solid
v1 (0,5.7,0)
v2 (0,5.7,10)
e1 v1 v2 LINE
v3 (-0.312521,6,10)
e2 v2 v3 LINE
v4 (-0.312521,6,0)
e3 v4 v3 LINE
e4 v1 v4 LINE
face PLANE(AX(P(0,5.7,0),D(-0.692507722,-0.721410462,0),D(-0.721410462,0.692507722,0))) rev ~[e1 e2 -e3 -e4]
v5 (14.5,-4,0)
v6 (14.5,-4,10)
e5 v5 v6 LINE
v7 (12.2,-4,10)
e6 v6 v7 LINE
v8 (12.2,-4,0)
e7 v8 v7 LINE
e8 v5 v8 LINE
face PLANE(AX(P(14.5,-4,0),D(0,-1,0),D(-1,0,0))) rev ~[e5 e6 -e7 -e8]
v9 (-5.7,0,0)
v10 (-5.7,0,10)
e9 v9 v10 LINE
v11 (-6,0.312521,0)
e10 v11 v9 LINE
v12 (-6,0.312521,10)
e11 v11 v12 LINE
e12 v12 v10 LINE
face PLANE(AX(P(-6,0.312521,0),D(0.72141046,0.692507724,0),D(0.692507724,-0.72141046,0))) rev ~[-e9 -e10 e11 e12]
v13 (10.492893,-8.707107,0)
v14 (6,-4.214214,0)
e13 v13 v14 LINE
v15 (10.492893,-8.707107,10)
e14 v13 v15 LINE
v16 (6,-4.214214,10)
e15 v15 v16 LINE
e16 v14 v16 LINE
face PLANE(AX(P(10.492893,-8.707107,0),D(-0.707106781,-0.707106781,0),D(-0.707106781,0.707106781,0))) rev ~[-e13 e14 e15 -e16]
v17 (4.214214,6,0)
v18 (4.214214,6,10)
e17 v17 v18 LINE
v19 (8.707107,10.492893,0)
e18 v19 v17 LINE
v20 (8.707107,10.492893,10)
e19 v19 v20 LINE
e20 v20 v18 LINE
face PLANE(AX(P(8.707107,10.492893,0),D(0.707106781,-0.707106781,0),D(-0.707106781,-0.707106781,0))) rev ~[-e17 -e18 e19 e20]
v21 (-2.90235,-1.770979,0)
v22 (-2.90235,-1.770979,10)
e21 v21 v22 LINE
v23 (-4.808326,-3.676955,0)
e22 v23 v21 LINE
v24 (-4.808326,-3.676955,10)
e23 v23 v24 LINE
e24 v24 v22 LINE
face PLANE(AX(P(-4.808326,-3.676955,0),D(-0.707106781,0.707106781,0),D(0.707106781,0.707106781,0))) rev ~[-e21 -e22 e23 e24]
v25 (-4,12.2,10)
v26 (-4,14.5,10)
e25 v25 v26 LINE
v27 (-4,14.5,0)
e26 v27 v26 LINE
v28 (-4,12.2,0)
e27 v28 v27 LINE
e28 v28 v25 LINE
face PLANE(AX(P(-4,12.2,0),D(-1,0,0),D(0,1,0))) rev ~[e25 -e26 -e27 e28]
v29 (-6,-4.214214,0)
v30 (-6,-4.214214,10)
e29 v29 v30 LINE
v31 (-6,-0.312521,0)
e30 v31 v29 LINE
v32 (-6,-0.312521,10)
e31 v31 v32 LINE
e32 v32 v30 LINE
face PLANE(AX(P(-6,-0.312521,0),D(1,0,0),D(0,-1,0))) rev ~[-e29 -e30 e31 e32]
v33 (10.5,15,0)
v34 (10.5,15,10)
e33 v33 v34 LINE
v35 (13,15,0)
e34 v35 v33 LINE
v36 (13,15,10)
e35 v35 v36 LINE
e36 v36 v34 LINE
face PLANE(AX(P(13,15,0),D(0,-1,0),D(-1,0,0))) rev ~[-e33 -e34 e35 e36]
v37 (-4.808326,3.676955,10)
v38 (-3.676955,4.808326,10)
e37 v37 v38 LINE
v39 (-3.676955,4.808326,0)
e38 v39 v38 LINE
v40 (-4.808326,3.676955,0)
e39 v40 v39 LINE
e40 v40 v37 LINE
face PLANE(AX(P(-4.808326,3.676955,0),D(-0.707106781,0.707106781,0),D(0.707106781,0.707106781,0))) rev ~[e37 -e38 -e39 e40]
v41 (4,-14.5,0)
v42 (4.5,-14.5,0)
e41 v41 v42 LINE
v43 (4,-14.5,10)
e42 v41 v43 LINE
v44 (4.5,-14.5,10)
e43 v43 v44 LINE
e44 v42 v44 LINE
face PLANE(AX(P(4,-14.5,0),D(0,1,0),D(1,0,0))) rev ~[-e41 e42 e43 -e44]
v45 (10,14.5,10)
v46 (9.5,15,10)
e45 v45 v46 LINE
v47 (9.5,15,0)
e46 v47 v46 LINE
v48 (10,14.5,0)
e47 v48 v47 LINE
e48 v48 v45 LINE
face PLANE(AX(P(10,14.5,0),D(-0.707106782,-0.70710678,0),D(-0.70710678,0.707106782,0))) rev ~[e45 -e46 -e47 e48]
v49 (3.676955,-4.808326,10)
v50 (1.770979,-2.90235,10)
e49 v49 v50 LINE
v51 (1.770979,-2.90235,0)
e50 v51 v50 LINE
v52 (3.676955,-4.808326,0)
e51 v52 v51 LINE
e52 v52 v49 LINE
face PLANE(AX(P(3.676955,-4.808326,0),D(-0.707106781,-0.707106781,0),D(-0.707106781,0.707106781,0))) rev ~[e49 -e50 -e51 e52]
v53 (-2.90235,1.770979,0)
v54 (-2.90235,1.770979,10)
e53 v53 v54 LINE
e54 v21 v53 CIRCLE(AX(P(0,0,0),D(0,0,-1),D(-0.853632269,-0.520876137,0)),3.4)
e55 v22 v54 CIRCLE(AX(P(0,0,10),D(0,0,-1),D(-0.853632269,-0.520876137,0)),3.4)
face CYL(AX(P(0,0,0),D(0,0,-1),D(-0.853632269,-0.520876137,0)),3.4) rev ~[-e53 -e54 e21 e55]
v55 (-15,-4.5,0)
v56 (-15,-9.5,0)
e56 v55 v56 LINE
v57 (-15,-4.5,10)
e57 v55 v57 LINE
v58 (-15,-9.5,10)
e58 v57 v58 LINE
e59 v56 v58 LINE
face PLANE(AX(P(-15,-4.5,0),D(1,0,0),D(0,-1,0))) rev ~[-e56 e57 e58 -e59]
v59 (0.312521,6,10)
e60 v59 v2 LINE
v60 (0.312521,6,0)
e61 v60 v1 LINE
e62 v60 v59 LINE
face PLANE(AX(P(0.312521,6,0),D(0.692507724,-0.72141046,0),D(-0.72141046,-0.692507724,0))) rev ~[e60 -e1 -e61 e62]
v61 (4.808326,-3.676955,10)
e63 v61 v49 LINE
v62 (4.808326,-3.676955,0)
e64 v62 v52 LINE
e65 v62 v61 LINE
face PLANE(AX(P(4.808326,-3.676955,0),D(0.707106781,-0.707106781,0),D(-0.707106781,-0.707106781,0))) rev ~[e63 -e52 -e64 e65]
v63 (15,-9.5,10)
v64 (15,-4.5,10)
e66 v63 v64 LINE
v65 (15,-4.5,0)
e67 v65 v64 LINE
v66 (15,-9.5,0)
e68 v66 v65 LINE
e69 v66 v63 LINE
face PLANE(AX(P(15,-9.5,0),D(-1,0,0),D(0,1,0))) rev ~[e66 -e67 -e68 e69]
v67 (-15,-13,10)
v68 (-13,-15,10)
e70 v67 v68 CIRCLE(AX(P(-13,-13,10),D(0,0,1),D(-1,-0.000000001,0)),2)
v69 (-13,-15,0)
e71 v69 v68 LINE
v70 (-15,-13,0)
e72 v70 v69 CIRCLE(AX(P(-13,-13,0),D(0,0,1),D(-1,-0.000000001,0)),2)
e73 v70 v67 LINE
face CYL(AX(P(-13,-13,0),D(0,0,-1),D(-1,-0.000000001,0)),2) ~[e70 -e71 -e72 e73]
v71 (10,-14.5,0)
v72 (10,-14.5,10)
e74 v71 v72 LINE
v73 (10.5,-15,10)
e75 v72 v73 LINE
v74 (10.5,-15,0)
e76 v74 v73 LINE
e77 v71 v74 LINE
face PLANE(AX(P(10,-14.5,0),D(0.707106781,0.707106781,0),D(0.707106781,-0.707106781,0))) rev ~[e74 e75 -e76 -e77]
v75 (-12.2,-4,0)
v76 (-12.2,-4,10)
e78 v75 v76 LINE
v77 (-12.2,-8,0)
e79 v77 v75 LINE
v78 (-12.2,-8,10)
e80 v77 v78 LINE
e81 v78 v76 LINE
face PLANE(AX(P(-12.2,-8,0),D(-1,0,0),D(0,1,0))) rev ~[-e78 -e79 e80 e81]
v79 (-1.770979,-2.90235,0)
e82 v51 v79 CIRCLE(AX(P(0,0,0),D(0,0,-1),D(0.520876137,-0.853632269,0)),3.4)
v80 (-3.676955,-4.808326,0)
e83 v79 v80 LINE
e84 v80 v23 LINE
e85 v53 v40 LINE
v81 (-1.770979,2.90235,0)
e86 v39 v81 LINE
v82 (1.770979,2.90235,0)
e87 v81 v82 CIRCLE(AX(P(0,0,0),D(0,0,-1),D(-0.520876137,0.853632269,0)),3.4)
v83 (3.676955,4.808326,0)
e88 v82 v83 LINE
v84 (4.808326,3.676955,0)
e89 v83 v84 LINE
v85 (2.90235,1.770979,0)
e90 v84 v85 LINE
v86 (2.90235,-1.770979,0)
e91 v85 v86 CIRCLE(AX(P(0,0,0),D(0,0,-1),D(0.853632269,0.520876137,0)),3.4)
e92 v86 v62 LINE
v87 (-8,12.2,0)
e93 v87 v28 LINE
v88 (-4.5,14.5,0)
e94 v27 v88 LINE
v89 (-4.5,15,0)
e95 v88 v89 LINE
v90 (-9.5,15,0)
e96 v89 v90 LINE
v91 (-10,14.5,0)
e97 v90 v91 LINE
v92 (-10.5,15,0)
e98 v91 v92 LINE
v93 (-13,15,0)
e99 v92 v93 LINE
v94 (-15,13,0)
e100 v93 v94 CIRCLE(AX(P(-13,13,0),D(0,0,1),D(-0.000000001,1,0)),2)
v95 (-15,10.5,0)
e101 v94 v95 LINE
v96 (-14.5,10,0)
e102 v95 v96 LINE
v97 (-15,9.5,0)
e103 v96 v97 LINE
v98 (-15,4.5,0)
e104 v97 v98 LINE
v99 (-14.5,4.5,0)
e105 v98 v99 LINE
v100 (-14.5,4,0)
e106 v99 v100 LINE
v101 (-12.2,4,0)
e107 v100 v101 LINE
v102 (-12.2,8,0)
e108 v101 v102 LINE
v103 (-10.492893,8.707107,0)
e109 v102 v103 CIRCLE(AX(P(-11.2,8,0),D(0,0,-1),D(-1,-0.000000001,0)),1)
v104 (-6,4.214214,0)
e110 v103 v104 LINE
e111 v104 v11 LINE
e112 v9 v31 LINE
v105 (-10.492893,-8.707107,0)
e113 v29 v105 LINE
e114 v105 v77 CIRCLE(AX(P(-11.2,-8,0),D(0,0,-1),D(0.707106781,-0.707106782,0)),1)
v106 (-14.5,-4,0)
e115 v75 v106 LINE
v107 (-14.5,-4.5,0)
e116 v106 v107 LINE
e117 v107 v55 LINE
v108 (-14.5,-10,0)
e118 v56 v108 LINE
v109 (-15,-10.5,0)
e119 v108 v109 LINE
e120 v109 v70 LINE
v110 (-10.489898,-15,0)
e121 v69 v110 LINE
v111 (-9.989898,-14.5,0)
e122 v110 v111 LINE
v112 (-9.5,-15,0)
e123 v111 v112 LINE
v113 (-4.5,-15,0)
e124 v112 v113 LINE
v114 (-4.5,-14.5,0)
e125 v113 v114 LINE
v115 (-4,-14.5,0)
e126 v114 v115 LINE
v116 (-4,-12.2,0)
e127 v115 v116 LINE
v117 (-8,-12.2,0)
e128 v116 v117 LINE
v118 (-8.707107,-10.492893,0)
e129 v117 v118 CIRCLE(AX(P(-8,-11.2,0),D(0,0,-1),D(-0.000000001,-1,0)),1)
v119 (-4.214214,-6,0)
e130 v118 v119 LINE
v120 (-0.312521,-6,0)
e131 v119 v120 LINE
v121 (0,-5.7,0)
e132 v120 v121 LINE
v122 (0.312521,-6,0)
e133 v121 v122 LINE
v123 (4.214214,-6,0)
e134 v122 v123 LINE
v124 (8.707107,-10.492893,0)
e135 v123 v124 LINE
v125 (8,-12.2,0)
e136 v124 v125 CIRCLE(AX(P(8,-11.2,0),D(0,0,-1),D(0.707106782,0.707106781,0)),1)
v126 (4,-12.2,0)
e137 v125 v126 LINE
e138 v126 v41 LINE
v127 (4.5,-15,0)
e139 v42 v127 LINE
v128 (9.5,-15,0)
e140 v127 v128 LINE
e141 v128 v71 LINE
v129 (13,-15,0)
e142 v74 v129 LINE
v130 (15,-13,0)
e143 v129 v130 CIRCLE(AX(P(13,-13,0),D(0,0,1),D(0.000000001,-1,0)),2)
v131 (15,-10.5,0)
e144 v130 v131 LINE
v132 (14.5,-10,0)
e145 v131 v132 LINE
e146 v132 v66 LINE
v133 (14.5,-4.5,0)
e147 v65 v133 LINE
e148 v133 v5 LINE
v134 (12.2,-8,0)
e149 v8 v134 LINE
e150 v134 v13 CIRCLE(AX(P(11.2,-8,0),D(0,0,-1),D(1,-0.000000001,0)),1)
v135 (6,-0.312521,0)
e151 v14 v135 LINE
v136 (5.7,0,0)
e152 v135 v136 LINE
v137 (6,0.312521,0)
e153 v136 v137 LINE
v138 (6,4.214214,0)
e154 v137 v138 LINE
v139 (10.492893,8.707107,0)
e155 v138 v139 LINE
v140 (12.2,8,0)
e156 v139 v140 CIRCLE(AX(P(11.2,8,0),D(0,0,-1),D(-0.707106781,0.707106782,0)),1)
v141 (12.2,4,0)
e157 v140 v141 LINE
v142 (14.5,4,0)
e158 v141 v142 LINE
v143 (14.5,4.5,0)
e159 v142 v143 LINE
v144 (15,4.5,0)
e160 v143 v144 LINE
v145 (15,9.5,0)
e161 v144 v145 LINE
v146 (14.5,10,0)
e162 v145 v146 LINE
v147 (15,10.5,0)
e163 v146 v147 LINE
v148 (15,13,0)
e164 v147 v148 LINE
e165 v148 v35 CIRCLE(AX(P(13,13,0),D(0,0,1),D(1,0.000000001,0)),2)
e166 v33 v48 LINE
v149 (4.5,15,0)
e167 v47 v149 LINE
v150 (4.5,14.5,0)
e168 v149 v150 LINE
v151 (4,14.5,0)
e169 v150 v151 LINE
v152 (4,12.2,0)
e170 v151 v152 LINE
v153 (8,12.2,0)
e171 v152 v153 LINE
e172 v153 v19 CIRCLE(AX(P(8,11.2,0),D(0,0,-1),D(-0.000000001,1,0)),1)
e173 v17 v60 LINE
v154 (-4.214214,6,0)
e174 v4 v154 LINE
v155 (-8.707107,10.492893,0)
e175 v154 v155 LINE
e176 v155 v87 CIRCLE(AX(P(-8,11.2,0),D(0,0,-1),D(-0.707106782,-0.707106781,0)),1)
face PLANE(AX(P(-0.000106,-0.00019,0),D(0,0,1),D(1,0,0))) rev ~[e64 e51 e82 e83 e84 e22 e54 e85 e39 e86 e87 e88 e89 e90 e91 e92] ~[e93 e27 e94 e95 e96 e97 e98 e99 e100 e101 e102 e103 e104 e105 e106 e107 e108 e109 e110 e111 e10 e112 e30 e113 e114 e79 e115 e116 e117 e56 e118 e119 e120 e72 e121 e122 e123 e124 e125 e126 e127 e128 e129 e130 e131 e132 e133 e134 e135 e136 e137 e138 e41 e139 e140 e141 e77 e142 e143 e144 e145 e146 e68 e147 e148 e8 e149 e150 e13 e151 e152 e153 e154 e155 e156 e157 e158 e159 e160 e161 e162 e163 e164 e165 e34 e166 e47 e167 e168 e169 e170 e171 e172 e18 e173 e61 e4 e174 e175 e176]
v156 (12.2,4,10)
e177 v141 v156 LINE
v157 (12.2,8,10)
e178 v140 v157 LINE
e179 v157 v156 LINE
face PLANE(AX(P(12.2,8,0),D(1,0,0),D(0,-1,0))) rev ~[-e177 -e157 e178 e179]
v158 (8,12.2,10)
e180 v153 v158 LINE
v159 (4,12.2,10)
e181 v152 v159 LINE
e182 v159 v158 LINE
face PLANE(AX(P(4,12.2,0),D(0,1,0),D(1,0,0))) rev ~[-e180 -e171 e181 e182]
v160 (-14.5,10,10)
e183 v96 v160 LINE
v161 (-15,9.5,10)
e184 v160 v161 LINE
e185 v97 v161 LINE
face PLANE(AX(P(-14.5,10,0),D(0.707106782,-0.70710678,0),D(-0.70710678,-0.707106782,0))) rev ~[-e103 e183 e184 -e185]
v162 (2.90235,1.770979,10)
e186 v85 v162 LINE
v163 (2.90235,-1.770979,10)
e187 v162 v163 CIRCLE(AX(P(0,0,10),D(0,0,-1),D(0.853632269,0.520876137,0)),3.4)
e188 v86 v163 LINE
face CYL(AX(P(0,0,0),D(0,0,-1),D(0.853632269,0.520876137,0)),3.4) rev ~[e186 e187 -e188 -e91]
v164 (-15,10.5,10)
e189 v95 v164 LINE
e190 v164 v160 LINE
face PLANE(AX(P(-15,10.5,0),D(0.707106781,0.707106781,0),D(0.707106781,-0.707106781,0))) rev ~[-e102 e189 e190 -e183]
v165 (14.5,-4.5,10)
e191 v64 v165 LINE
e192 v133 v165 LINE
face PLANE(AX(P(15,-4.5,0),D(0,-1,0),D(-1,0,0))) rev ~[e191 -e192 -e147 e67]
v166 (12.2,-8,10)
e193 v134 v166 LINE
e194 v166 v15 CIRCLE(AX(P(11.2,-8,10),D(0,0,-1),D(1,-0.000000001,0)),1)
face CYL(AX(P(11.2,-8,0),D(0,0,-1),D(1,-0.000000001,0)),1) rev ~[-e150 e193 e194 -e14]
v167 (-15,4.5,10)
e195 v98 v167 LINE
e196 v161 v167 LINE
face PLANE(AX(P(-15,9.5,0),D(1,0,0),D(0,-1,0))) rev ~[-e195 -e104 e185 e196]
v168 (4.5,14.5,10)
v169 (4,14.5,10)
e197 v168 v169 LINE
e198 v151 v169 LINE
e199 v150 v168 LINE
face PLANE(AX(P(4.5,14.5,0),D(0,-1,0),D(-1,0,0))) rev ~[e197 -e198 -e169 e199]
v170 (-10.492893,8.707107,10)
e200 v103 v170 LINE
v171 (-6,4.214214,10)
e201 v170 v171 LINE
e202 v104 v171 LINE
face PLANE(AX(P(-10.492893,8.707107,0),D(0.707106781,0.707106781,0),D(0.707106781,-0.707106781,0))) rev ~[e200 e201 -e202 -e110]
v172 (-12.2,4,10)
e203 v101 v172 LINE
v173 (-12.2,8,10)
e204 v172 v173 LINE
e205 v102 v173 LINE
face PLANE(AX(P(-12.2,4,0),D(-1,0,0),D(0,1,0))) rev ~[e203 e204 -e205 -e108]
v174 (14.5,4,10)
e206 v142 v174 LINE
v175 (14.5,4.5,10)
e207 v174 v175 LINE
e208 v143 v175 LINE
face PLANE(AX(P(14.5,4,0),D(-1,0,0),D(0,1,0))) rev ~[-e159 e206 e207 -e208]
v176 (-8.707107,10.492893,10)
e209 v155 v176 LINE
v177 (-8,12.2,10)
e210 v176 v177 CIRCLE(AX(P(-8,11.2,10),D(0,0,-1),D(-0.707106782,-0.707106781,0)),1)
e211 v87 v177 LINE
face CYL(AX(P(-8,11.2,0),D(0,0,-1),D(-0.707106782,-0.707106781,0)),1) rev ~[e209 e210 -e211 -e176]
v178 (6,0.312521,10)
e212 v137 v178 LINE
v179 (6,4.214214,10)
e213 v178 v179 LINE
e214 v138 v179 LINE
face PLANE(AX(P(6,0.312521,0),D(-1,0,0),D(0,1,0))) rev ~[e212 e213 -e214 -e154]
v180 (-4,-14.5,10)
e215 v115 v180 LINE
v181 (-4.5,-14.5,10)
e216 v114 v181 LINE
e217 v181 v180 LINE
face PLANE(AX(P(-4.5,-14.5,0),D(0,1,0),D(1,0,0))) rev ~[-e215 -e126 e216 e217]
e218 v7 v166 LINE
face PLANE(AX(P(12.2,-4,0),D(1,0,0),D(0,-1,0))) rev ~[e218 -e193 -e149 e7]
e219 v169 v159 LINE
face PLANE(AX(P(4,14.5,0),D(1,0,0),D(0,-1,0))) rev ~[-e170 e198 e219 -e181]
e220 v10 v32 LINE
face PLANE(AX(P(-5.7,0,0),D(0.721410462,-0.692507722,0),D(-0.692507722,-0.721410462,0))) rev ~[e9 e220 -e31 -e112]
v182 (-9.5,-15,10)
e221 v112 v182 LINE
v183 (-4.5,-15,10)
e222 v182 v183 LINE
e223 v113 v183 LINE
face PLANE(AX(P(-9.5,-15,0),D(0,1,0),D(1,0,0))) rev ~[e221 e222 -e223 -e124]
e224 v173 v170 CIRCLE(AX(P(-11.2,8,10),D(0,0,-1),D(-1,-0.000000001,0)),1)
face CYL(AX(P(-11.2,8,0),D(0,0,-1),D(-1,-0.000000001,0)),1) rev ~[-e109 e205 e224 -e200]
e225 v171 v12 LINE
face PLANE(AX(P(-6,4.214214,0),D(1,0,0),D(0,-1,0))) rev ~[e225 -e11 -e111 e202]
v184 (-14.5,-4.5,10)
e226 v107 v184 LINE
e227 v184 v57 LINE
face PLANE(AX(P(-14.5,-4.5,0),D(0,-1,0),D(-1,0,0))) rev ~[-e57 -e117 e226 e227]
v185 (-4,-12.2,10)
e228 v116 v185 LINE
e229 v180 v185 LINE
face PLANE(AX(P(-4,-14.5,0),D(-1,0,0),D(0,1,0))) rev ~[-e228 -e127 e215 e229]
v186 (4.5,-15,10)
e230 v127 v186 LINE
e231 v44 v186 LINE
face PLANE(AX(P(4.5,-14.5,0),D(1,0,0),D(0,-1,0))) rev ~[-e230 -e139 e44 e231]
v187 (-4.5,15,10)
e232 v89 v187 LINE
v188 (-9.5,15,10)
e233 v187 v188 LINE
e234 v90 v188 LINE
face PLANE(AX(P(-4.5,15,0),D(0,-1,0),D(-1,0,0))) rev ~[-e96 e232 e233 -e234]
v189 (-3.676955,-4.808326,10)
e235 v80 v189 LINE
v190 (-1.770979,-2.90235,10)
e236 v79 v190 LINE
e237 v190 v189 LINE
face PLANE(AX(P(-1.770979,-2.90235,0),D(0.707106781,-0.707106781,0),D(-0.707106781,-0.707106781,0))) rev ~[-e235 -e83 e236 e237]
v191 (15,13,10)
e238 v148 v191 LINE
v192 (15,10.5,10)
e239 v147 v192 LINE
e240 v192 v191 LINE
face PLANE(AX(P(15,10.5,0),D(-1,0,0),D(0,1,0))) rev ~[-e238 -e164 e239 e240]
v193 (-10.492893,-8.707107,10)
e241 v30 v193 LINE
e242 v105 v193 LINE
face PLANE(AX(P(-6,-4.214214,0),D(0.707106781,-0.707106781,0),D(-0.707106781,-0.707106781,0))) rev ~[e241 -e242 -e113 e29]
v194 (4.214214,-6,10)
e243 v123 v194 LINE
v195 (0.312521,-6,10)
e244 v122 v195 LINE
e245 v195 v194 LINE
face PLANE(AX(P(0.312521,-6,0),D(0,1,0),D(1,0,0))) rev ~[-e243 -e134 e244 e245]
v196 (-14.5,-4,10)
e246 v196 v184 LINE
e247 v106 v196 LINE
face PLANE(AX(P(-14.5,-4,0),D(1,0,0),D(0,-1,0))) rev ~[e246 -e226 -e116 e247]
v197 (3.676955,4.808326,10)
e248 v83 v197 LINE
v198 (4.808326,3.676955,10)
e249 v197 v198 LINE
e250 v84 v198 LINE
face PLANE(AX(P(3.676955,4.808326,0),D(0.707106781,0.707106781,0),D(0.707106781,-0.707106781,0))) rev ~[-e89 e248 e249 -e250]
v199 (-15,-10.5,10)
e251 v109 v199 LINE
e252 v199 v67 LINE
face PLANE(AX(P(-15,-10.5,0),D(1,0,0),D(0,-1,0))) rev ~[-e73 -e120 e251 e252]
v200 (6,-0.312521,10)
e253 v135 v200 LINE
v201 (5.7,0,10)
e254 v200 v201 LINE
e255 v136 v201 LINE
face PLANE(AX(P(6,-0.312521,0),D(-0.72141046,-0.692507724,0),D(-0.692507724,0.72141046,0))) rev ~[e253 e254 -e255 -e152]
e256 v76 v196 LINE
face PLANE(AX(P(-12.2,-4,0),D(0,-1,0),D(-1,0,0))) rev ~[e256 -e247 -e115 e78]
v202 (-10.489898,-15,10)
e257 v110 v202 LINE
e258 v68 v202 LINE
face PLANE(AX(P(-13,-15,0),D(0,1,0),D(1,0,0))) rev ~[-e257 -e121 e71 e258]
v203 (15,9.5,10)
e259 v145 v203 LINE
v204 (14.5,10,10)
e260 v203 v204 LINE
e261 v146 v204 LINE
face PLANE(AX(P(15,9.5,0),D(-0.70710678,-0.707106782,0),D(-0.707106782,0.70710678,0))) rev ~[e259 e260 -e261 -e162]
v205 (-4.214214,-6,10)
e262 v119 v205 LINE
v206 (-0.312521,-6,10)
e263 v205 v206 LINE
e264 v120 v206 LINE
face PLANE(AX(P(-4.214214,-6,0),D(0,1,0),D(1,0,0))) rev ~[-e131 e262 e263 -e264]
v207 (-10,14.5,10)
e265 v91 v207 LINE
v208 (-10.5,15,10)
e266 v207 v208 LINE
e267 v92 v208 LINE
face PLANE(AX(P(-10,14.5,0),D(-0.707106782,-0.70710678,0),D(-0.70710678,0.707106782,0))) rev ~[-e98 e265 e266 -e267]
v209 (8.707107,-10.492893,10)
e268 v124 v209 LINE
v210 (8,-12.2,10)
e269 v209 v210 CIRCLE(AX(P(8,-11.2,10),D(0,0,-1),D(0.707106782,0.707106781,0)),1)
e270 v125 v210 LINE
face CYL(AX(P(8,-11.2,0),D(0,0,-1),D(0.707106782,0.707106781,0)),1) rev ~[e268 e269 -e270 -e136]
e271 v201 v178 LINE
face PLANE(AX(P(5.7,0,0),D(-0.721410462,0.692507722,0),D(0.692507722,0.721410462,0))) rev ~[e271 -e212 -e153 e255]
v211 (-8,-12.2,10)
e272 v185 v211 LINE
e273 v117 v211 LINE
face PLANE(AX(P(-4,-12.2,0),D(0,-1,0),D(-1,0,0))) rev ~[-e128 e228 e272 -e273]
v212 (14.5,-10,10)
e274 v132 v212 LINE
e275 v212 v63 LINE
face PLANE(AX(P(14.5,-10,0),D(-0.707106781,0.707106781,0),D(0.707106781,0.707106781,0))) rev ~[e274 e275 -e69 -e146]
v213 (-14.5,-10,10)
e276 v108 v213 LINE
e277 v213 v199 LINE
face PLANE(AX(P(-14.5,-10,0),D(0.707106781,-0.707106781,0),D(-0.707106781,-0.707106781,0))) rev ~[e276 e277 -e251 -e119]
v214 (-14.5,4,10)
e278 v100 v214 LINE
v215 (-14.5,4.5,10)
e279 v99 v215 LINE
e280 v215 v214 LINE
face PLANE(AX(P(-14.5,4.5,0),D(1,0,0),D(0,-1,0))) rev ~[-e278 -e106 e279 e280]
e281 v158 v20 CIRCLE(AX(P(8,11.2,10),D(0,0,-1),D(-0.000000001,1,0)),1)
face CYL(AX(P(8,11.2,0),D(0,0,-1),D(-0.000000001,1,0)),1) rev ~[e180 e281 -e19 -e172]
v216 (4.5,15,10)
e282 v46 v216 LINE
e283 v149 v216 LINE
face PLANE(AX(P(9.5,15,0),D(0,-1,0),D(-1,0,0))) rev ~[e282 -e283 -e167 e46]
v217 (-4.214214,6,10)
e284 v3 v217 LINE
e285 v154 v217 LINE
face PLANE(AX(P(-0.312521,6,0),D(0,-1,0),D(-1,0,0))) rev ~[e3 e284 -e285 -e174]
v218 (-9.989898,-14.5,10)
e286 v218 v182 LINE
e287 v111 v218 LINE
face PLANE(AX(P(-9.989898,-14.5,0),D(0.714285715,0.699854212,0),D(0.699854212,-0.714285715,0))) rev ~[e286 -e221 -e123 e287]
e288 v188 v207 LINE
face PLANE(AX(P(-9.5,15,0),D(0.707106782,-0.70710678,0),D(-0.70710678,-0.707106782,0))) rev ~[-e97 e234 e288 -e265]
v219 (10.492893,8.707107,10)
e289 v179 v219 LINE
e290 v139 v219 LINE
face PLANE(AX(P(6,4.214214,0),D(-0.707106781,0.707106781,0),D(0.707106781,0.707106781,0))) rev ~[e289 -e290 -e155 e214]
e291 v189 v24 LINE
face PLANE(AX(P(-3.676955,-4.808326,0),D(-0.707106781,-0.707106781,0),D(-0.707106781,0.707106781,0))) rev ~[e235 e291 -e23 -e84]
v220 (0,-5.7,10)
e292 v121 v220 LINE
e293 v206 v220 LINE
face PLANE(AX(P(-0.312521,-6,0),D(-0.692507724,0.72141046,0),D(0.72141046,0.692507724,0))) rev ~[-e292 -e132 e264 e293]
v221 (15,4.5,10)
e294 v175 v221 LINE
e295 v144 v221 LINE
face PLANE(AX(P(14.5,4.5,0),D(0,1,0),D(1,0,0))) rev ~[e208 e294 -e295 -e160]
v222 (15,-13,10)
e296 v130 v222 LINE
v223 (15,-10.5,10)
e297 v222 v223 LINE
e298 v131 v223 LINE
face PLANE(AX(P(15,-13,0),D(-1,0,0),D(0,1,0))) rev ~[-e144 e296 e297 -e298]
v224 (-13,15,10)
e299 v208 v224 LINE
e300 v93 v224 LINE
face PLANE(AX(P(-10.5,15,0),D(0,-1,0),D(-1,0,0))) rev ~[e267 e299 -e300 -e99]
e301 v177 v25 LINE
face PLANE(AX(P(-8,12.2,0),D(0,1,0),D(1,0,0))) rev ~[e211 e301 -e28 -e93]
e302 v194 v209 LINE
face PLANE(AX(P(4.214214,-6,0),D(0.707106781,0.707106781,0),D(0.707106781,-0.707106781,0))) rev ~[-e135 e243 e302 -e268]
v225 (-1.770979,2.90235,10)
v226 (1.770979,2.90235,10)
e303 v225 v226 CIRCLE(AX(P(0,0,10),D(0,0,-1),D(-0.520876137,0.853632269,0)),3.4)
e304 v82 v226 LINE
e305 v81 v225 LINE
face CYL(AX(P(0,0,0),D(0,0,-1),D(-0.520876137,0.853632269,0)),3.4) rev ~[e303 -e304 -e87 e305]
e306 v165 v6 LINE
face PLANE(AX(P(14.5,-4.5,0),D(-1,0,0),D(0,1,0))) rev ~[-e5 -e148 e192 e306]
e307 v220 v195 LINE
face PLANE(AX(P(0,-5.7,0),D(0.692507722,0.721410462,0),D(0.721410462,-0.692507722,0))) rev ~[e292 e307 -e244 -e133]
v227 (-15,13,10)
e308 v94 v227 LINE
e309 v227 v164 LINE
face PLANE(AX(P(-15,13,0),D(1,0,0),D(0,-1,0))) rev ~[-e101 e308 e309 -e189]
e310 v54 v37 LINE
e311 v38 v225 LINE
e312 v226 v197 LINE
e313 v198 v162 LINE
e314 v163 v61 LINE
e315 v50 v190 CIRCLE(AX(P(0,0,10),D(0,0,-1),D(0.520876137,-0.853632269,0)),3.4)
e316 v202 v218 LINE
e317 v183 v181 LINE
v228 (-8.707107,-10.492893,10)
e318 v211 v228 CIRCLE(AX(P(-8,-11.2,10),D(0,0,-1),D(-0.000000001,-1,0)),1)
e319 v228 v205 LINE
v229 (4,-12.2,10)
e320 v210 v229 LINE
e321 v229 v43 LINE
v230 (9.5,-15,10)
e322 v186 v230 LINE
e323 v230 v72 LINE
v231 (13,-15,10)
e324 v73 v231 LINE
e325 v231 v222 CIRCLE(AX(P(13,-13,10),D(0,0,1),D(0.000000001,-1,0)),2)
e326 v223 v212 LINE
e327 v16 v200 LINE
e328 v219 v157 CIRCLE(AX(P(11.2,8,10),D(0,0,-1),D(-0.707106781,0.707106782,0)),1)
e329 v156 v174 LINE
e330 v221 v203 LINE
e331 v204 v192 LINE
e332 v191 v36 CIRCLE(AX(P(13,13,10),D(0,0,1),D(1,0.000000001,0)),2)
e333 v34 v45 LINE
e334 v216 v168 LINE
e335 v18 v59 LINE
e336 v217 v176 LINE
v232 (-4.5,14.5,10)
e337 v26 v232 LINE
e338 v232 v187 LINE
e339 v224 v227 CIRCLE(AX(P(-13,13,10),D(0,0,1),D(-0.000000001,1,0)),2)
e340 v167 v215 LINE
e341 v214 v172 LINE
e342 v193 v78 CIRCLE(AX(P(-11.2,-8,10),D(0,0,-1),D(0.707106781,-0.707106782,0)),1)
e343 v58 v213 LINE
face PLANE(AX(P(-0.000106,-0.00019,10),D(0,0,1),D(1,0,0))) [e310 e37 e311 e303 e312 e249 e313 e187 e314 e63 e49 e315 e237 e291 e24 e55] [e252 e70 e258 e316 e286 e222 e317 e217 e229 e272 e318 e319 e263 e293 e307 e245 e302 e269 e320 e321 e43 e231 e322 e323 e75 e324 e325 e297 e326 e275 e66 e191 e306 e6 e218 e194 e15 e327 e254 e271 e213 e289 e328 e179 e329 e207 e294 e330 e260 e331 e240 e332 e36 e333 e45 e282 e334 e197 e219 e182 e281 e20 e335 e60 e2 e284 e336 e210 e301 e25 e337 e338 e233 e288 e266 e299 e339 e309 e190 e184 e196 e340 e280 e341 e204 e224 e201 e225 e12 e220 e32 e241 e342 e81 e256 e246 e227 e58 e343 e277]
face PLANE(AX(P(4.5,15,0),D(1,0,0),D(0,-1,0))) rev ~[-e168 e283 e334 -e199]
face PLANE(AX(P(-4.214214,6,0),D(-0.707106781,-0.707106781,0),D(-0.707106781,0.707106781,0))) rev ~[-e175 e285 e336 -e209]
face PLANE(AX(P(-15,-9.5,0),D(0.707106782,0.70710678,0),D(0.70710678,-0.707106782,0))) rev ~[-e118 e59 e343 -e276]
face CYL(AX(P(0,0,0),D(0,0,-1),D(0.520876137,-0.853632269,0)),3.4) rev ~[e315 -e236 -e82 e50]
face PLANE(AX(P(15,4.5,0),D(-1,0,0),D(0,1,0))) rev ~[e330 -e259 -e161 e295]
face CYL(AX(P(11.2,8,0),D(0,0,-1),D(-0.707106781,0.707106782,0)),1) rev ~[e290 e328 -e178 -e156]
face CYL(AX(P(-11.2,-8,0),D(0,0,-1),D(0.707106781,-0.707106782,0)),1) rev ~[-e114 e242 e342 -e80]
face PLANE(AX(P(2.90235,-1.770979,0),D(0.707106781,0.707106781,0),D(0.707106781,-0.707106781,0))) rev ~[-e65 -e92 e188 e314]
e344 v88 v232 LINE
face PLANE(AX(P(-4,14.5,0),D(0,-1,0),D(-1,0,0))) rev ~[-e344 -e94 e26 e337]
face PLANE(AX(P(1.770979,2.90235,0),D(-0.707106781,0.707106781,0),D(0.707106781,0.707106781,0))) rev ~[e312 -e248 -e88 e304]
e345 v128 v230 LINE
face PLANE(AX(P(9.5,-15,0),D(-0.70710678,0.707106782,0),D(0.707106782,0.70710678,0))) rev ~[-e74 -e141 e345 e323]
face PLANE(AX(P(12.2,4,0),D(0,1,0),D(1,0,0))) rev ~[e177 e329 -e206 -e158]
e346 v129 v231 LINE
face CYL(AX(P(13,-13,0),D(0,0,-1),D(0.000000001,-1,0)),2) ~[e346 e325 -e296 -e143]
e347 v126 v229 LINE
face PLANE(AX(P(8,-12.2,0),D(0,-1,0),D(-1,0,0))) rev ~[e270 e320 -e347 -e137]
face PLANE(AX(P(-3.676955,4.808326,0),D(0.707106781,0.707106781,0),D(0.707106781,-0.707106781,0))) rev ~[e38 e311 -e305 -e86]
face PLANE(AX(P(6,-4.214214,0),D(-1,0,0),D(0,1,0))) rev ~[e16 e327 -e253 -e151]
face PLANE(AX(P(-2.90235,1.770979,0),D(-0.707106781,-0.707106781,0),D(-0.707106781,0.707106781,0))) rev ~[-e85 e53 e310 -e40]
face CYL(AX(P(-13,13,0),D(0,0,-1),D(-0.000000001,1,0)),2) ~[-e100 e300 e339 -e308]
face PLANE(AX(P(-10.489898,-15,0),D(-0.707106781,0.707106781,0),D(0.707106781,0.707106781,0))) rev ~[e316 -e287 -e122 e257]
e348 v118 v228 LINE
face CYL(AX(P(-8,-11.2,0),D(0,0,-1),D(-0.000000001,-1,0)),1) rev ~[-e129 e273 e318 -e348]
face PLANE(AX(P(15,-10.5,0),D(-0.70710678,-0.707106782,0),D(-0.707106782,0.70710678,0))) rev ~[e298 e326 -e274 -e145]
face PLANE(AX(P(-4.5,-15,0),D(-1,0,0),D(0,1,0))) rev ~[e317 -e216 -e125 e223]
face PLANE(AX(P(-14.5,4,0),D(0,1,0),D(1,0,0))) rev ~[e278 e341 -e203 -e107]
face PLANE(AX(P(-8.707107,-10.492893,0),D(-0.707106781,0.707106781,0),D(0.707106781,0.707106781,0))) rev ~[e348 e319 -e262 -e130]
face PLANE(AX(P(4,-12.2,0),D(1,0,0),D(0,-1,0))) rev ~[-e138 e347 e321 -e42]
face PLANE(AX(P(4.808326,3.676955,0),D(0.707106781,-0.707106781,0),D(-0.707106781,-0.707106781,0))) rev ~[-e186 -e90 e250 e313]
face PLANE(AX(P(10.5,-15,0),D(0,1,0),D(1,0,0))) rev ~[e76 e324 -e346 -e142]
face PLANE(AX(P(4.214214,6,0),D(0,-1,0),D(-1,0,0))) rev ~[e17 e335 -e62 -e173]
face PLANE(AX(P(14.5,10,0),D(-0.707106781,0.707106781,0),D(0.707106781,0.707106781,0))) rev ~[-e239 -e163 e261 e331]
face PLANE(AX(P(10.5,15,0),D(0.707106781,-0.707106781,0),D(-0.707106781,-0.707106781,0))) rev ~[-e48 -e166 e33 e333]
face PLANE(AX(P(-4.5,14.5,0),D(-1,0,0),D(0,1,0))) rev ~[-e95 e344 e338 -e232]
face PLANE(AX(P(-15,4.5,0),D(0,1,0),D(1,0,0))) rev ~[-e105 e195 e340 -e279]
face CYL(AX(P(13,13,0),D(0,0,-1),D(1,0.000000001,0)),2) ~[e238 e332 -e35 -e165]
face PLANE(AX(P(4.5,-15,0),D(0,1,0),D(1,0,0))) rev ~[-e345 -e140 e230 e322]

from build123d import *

# Parameters (mm, degrees)
BOSS_EXTRUDE1_DEPTH = 10


with BuildPart() as part:
    # Sketch1 → Boss-Extrude1 (new body)
    with BuildSketch(Plane.XY):
        with BuildLine():
            Line((12.999999999, 14.999999999), (10.499999999, 14.999999999))
            Line((10.499999999, 14.999999999), (9.999999999, 14.499999999))
            Line((9.999999999, 14.499999999), (9.5, 14.999999999))
            Line((9.5, 14.999999999), (4.5, 14.999999999))
            Line((4.5, 14.999999999), (4.5, 14.5))
            Line((4.5, 14.5), (4, 14.5))
            Line((4, 14.5), (4, 12.200000005))
            Line((4, 12.200000005), (7.999999994, 12.200000005))
            ThreePointArc((7.999999994, 12.200000005), (8.923879532, 11.582683434), (8.707106779, 10.492893215))
            Line((8.707106779, 10.492893215), (4.214213564, 6))
            Line((4.214213564, 6), (0.312520901, 6))
            Line((0.312520901, 6), (0, 5.7))
            Line((0, 5.7), (-0.312520903, 6))
            Line((-0.312520903, 6), (-4.214213564, 6))
            Line((-4.214213564, 6), (-8.70710678, 10.492893215))
            ThreePointArc((-8.70710678, 10.492893215), (-8.923879532, 11.582683434), (-7.999999995, 12.200000005))
            Line((-7.999999995, 12.200000005), (-4, 12.200000005))
            Line((-4, 12.200000005), (-4, 14.5))
            Line((-4, 14.5), (-4.5, 14.5))
            Line((-4.5, 14.5), (-4.5, 14.999999999))
            Line((-4.5, 14.999999999), (-9.500000003, 14.999999999))
            Line((-9.500000003, 14.999999999), (-10.000000002, 14.499999999))
            Line((-10.000000002, 14.499999999), (-10.500000001, 14.999999999))
            Line((-10.500000001, 14.999999999), (-13, 14.999999999))
            ThreePointArc((-13, 14.999999999), (-14.414213562, 14.414213561), (-15, 12.999999999))
            Line((-15, 12.999999999), (-15, 10.5))
            Line((-15, 10.5), (-14.500000001, 10.000000001))
            Line((-14.500000001, 10.000000001), (-15, 9.500000001))
            Line((-15, 9.500000001), (-15, 4.5))
            Line((-15, 4.5), (-14.5, 4.5))
            Line((-14.5, 4.5), (-14.5, 4))
            Line((-14.5, 4), (-12.200000005, 4))
            Line((-12.200000005, 4), (-12.200000005, 7.999999994))
            ThreePointArc((-12.200000005, 7.999999994), (-11.582683434, 8.923879532), (-10.492893215, 8.707106779))
            Line((-10.492893215, 8.707106779), (-6, 4.214213564))
            Line((-6, 4.214213564), (-6, 0.312520901))
            Line((-6, 0.312520901), (-5.7, 0))
            Line((-5.7, 0), (-6, -0.312520903))
            Line((-6, -0.312520903), (-6, -4.214213564))
            Line((-6, -4.214213564), (-10.492893215, -8.70710678))
            ThreePointArc((-10.492893215, -8.70710678), (-11.582683434, -8.923879532), (-12.200000005, -7.999999995))
            Line((-12.200000005, -7.999999995), (-12.200000005, -4))
            Line((-12.200000005, -4), (-14.5, -4))
            Line((-14.5, -4), (-14.5, -4.5))
            Line((-14.5, -4.5), (-15, -4.5))
            Line((-15, -4.5), (-15, -9.500000001))
            Line((-15, -9.500000001), (-14.500000001, -10.000000001))
            Line((-14.500000001, -10.000000001), (-15, -10.5))
            Line((-15, -10.5), (-15, -13))
            ThreePointArc((-15, -13), (-14.414213562, -14.414213562), (-13, -15))
            Line((-13, -15), (-10.489897949, -15))
            Line((-10.489897949, -15), (-9.989897949, -14.5))
            Line((-9.989897949, -14.5), (-9.500000001, -15))
            Line((-9.500000001, -15), (-4.5, -15))
            Line((-4.5, -15), (-4.5, -14.5))
            Line((-4.5, -14.5), (-4, -14.5))
            Line((-4, -14.5), (-4, -12.200000005))
            Line((-4, -12.200000005), (-7.999999995, -12.200000005))
            ThreePointArc((-7.999999995, -12.200000005), (-8.923879532, -11.582683434), (-8.70710678, -10.492893215))
            Line((-8.70710678, -10.492893215), (-4.214213564, -6))
            Line((-4.214213564, -6), (-0.312520901, -6))
            Line((-0.312520901, -6), (0, -5.7))
            Line((0, -5.7), (0.312520903, -6))
            Line((0.312520903, -6), (4.214213564, -6))
            Line((4.214213564, -6), (8.70710678, -10.492893215))
            ThreePointArc((8.70710678, -10.492893215), (8.923879532, -11.582683434), (7.999999995, -12.200000005))
            Line((7.999999995, -12.200000005), (4, -12.200000005))
            Line((4, -12.200000005), (4, -14.5))
            Line((4, -14.5), (4.5, -14.5))
            Line((4.5, -14.5), (4.5, -15))
            Line((4.5, -15), (9.500000001, -15))
            Line((9.500000001, -15), (10.000000001, -14.500000001))
            Line((10.000000001, -14.500000001), (10.5, -15))
            Line((10.5, -15), (12.999999999, -15))
            ThreePointArc((12.999999999, -15), (14.414213561, -14.414213562), (14.999999999, -13))
            Line((14.999999999, -13), (14.999999999, -10.500000001))
            Line((14.999999999, -10.500000001), (14.499999999, -10.000000002))
            Line((14.499999999, -10.000000002), (14.999999999, -9.500000002))
            Line((14.999999999, -9.500000002), (14.999999999, -4.5))
            Line((14.999999999, -4.5), (14.5, -4.5))
            Line((14.5, -4.5), (14.5, -4))
            Line((14.5, -4), (12.200000005, -4))
            Line((12.200000005, -4), (12.200000005, -7.999999995))
            ThreePointArc((12.200000005, -7.999999995), (11.582683434, -8.923879532), (10.492893215, -8.70710678))
            Line((10.492893215, -8.70710678), (6, -4.214213564))
            Line((6, -4.214213564), (6, -0.312520901))
            Line((6, -0.312520901), (5.7, 0))
            Line((5.7, 0), (6, 0.312520903))
            Line((6, 0.312520903), (6, 4.214213564))
            Line((6, 4.214213564), (10.492893215, 8.70710678))
            ThreePointArc((10.492893215, 8.70710678), (11.582683434, 8.923879532), (12.200000005, 7.999999995))
            Line((12.200000005, 7.999999995), (12.200000005, 4))
            Line((12.200000005, 4), (14.5, 4))
            Line((14.5, 4), (14.5, 4.5))
            Line((14.5, 4.5), (14.999999999, 4.5))
            Line((14.999999999, 4.5), (14.999999999, 9.5))
            Line((14.999999999, 9.5), (14.499999999, 9.999999999))
            Line((14.499999999, 9.999999999), (14.999999999, 10.499999999))
            Line((14.999999999, 10.499999999), (14.999999999, 12.999999999))
            ThreePointArc((14.999999999, 12.999999999), (14.414213561, 14.414213561), (12.999999999, 14.999999999))
        make_face()
        with BuildLine():
            Line((-2.902349714, 1.770978864), (-4.808326112, 3.676955262))
            Line((-4.808326112, 3.676955262), (-3.676955262, 4.808326112))
            Line((-3.676955262, 4.808326112), (-1.770978864, 2.902349714))
            ThreePointArc((-1.770978864, 2.902349714), (0, 3.4), (1.770978864, 2.902349714))
            Line((1.770978864, 2.902349714), (3.676955262, 4.808326112))
            Line((3.676955262, 4.808326112), (4.808326112, 3.676955262))
            Line((4.808326112, 3.676955262), (2.902349714, 1.770978864))
            ThreePointArc((2.902349714, 1.770978864), (3.4, 0), (2.902349714, -1.770978864))
            Line((2.902349714, -1.770978864), (4.808326112, -3.676955262))
            Line((4.808326112, -3.676955262), (3.676955262, -4.808326112))
            Line((3.676955262, -4.808326112), (1.770978864, -2.902349714))
            ThreePointArc((1.770978864, -2.902349714), (0, -3.4), (-1.770978864, -2.902349714))
            Line((-1.770978864, -2.902349714), (-3.676955262, -4.808326112))
            Line((-3.676955262, -4.808326112), (-4.808326112, -3.676955262))
            Line((-4.808326112, -3.676955262), (-2.902349714, -1.770978864))
            ThreePointArc((-2.902349714, -1.770978864), (-3.4, 0), (-2.902349714, 1.770978864))
        make_face(mode=Mode.SUBTRACT)
    extrude(amount=BOSS_EXTRUDE1_DEPTH)


solid = part.part
